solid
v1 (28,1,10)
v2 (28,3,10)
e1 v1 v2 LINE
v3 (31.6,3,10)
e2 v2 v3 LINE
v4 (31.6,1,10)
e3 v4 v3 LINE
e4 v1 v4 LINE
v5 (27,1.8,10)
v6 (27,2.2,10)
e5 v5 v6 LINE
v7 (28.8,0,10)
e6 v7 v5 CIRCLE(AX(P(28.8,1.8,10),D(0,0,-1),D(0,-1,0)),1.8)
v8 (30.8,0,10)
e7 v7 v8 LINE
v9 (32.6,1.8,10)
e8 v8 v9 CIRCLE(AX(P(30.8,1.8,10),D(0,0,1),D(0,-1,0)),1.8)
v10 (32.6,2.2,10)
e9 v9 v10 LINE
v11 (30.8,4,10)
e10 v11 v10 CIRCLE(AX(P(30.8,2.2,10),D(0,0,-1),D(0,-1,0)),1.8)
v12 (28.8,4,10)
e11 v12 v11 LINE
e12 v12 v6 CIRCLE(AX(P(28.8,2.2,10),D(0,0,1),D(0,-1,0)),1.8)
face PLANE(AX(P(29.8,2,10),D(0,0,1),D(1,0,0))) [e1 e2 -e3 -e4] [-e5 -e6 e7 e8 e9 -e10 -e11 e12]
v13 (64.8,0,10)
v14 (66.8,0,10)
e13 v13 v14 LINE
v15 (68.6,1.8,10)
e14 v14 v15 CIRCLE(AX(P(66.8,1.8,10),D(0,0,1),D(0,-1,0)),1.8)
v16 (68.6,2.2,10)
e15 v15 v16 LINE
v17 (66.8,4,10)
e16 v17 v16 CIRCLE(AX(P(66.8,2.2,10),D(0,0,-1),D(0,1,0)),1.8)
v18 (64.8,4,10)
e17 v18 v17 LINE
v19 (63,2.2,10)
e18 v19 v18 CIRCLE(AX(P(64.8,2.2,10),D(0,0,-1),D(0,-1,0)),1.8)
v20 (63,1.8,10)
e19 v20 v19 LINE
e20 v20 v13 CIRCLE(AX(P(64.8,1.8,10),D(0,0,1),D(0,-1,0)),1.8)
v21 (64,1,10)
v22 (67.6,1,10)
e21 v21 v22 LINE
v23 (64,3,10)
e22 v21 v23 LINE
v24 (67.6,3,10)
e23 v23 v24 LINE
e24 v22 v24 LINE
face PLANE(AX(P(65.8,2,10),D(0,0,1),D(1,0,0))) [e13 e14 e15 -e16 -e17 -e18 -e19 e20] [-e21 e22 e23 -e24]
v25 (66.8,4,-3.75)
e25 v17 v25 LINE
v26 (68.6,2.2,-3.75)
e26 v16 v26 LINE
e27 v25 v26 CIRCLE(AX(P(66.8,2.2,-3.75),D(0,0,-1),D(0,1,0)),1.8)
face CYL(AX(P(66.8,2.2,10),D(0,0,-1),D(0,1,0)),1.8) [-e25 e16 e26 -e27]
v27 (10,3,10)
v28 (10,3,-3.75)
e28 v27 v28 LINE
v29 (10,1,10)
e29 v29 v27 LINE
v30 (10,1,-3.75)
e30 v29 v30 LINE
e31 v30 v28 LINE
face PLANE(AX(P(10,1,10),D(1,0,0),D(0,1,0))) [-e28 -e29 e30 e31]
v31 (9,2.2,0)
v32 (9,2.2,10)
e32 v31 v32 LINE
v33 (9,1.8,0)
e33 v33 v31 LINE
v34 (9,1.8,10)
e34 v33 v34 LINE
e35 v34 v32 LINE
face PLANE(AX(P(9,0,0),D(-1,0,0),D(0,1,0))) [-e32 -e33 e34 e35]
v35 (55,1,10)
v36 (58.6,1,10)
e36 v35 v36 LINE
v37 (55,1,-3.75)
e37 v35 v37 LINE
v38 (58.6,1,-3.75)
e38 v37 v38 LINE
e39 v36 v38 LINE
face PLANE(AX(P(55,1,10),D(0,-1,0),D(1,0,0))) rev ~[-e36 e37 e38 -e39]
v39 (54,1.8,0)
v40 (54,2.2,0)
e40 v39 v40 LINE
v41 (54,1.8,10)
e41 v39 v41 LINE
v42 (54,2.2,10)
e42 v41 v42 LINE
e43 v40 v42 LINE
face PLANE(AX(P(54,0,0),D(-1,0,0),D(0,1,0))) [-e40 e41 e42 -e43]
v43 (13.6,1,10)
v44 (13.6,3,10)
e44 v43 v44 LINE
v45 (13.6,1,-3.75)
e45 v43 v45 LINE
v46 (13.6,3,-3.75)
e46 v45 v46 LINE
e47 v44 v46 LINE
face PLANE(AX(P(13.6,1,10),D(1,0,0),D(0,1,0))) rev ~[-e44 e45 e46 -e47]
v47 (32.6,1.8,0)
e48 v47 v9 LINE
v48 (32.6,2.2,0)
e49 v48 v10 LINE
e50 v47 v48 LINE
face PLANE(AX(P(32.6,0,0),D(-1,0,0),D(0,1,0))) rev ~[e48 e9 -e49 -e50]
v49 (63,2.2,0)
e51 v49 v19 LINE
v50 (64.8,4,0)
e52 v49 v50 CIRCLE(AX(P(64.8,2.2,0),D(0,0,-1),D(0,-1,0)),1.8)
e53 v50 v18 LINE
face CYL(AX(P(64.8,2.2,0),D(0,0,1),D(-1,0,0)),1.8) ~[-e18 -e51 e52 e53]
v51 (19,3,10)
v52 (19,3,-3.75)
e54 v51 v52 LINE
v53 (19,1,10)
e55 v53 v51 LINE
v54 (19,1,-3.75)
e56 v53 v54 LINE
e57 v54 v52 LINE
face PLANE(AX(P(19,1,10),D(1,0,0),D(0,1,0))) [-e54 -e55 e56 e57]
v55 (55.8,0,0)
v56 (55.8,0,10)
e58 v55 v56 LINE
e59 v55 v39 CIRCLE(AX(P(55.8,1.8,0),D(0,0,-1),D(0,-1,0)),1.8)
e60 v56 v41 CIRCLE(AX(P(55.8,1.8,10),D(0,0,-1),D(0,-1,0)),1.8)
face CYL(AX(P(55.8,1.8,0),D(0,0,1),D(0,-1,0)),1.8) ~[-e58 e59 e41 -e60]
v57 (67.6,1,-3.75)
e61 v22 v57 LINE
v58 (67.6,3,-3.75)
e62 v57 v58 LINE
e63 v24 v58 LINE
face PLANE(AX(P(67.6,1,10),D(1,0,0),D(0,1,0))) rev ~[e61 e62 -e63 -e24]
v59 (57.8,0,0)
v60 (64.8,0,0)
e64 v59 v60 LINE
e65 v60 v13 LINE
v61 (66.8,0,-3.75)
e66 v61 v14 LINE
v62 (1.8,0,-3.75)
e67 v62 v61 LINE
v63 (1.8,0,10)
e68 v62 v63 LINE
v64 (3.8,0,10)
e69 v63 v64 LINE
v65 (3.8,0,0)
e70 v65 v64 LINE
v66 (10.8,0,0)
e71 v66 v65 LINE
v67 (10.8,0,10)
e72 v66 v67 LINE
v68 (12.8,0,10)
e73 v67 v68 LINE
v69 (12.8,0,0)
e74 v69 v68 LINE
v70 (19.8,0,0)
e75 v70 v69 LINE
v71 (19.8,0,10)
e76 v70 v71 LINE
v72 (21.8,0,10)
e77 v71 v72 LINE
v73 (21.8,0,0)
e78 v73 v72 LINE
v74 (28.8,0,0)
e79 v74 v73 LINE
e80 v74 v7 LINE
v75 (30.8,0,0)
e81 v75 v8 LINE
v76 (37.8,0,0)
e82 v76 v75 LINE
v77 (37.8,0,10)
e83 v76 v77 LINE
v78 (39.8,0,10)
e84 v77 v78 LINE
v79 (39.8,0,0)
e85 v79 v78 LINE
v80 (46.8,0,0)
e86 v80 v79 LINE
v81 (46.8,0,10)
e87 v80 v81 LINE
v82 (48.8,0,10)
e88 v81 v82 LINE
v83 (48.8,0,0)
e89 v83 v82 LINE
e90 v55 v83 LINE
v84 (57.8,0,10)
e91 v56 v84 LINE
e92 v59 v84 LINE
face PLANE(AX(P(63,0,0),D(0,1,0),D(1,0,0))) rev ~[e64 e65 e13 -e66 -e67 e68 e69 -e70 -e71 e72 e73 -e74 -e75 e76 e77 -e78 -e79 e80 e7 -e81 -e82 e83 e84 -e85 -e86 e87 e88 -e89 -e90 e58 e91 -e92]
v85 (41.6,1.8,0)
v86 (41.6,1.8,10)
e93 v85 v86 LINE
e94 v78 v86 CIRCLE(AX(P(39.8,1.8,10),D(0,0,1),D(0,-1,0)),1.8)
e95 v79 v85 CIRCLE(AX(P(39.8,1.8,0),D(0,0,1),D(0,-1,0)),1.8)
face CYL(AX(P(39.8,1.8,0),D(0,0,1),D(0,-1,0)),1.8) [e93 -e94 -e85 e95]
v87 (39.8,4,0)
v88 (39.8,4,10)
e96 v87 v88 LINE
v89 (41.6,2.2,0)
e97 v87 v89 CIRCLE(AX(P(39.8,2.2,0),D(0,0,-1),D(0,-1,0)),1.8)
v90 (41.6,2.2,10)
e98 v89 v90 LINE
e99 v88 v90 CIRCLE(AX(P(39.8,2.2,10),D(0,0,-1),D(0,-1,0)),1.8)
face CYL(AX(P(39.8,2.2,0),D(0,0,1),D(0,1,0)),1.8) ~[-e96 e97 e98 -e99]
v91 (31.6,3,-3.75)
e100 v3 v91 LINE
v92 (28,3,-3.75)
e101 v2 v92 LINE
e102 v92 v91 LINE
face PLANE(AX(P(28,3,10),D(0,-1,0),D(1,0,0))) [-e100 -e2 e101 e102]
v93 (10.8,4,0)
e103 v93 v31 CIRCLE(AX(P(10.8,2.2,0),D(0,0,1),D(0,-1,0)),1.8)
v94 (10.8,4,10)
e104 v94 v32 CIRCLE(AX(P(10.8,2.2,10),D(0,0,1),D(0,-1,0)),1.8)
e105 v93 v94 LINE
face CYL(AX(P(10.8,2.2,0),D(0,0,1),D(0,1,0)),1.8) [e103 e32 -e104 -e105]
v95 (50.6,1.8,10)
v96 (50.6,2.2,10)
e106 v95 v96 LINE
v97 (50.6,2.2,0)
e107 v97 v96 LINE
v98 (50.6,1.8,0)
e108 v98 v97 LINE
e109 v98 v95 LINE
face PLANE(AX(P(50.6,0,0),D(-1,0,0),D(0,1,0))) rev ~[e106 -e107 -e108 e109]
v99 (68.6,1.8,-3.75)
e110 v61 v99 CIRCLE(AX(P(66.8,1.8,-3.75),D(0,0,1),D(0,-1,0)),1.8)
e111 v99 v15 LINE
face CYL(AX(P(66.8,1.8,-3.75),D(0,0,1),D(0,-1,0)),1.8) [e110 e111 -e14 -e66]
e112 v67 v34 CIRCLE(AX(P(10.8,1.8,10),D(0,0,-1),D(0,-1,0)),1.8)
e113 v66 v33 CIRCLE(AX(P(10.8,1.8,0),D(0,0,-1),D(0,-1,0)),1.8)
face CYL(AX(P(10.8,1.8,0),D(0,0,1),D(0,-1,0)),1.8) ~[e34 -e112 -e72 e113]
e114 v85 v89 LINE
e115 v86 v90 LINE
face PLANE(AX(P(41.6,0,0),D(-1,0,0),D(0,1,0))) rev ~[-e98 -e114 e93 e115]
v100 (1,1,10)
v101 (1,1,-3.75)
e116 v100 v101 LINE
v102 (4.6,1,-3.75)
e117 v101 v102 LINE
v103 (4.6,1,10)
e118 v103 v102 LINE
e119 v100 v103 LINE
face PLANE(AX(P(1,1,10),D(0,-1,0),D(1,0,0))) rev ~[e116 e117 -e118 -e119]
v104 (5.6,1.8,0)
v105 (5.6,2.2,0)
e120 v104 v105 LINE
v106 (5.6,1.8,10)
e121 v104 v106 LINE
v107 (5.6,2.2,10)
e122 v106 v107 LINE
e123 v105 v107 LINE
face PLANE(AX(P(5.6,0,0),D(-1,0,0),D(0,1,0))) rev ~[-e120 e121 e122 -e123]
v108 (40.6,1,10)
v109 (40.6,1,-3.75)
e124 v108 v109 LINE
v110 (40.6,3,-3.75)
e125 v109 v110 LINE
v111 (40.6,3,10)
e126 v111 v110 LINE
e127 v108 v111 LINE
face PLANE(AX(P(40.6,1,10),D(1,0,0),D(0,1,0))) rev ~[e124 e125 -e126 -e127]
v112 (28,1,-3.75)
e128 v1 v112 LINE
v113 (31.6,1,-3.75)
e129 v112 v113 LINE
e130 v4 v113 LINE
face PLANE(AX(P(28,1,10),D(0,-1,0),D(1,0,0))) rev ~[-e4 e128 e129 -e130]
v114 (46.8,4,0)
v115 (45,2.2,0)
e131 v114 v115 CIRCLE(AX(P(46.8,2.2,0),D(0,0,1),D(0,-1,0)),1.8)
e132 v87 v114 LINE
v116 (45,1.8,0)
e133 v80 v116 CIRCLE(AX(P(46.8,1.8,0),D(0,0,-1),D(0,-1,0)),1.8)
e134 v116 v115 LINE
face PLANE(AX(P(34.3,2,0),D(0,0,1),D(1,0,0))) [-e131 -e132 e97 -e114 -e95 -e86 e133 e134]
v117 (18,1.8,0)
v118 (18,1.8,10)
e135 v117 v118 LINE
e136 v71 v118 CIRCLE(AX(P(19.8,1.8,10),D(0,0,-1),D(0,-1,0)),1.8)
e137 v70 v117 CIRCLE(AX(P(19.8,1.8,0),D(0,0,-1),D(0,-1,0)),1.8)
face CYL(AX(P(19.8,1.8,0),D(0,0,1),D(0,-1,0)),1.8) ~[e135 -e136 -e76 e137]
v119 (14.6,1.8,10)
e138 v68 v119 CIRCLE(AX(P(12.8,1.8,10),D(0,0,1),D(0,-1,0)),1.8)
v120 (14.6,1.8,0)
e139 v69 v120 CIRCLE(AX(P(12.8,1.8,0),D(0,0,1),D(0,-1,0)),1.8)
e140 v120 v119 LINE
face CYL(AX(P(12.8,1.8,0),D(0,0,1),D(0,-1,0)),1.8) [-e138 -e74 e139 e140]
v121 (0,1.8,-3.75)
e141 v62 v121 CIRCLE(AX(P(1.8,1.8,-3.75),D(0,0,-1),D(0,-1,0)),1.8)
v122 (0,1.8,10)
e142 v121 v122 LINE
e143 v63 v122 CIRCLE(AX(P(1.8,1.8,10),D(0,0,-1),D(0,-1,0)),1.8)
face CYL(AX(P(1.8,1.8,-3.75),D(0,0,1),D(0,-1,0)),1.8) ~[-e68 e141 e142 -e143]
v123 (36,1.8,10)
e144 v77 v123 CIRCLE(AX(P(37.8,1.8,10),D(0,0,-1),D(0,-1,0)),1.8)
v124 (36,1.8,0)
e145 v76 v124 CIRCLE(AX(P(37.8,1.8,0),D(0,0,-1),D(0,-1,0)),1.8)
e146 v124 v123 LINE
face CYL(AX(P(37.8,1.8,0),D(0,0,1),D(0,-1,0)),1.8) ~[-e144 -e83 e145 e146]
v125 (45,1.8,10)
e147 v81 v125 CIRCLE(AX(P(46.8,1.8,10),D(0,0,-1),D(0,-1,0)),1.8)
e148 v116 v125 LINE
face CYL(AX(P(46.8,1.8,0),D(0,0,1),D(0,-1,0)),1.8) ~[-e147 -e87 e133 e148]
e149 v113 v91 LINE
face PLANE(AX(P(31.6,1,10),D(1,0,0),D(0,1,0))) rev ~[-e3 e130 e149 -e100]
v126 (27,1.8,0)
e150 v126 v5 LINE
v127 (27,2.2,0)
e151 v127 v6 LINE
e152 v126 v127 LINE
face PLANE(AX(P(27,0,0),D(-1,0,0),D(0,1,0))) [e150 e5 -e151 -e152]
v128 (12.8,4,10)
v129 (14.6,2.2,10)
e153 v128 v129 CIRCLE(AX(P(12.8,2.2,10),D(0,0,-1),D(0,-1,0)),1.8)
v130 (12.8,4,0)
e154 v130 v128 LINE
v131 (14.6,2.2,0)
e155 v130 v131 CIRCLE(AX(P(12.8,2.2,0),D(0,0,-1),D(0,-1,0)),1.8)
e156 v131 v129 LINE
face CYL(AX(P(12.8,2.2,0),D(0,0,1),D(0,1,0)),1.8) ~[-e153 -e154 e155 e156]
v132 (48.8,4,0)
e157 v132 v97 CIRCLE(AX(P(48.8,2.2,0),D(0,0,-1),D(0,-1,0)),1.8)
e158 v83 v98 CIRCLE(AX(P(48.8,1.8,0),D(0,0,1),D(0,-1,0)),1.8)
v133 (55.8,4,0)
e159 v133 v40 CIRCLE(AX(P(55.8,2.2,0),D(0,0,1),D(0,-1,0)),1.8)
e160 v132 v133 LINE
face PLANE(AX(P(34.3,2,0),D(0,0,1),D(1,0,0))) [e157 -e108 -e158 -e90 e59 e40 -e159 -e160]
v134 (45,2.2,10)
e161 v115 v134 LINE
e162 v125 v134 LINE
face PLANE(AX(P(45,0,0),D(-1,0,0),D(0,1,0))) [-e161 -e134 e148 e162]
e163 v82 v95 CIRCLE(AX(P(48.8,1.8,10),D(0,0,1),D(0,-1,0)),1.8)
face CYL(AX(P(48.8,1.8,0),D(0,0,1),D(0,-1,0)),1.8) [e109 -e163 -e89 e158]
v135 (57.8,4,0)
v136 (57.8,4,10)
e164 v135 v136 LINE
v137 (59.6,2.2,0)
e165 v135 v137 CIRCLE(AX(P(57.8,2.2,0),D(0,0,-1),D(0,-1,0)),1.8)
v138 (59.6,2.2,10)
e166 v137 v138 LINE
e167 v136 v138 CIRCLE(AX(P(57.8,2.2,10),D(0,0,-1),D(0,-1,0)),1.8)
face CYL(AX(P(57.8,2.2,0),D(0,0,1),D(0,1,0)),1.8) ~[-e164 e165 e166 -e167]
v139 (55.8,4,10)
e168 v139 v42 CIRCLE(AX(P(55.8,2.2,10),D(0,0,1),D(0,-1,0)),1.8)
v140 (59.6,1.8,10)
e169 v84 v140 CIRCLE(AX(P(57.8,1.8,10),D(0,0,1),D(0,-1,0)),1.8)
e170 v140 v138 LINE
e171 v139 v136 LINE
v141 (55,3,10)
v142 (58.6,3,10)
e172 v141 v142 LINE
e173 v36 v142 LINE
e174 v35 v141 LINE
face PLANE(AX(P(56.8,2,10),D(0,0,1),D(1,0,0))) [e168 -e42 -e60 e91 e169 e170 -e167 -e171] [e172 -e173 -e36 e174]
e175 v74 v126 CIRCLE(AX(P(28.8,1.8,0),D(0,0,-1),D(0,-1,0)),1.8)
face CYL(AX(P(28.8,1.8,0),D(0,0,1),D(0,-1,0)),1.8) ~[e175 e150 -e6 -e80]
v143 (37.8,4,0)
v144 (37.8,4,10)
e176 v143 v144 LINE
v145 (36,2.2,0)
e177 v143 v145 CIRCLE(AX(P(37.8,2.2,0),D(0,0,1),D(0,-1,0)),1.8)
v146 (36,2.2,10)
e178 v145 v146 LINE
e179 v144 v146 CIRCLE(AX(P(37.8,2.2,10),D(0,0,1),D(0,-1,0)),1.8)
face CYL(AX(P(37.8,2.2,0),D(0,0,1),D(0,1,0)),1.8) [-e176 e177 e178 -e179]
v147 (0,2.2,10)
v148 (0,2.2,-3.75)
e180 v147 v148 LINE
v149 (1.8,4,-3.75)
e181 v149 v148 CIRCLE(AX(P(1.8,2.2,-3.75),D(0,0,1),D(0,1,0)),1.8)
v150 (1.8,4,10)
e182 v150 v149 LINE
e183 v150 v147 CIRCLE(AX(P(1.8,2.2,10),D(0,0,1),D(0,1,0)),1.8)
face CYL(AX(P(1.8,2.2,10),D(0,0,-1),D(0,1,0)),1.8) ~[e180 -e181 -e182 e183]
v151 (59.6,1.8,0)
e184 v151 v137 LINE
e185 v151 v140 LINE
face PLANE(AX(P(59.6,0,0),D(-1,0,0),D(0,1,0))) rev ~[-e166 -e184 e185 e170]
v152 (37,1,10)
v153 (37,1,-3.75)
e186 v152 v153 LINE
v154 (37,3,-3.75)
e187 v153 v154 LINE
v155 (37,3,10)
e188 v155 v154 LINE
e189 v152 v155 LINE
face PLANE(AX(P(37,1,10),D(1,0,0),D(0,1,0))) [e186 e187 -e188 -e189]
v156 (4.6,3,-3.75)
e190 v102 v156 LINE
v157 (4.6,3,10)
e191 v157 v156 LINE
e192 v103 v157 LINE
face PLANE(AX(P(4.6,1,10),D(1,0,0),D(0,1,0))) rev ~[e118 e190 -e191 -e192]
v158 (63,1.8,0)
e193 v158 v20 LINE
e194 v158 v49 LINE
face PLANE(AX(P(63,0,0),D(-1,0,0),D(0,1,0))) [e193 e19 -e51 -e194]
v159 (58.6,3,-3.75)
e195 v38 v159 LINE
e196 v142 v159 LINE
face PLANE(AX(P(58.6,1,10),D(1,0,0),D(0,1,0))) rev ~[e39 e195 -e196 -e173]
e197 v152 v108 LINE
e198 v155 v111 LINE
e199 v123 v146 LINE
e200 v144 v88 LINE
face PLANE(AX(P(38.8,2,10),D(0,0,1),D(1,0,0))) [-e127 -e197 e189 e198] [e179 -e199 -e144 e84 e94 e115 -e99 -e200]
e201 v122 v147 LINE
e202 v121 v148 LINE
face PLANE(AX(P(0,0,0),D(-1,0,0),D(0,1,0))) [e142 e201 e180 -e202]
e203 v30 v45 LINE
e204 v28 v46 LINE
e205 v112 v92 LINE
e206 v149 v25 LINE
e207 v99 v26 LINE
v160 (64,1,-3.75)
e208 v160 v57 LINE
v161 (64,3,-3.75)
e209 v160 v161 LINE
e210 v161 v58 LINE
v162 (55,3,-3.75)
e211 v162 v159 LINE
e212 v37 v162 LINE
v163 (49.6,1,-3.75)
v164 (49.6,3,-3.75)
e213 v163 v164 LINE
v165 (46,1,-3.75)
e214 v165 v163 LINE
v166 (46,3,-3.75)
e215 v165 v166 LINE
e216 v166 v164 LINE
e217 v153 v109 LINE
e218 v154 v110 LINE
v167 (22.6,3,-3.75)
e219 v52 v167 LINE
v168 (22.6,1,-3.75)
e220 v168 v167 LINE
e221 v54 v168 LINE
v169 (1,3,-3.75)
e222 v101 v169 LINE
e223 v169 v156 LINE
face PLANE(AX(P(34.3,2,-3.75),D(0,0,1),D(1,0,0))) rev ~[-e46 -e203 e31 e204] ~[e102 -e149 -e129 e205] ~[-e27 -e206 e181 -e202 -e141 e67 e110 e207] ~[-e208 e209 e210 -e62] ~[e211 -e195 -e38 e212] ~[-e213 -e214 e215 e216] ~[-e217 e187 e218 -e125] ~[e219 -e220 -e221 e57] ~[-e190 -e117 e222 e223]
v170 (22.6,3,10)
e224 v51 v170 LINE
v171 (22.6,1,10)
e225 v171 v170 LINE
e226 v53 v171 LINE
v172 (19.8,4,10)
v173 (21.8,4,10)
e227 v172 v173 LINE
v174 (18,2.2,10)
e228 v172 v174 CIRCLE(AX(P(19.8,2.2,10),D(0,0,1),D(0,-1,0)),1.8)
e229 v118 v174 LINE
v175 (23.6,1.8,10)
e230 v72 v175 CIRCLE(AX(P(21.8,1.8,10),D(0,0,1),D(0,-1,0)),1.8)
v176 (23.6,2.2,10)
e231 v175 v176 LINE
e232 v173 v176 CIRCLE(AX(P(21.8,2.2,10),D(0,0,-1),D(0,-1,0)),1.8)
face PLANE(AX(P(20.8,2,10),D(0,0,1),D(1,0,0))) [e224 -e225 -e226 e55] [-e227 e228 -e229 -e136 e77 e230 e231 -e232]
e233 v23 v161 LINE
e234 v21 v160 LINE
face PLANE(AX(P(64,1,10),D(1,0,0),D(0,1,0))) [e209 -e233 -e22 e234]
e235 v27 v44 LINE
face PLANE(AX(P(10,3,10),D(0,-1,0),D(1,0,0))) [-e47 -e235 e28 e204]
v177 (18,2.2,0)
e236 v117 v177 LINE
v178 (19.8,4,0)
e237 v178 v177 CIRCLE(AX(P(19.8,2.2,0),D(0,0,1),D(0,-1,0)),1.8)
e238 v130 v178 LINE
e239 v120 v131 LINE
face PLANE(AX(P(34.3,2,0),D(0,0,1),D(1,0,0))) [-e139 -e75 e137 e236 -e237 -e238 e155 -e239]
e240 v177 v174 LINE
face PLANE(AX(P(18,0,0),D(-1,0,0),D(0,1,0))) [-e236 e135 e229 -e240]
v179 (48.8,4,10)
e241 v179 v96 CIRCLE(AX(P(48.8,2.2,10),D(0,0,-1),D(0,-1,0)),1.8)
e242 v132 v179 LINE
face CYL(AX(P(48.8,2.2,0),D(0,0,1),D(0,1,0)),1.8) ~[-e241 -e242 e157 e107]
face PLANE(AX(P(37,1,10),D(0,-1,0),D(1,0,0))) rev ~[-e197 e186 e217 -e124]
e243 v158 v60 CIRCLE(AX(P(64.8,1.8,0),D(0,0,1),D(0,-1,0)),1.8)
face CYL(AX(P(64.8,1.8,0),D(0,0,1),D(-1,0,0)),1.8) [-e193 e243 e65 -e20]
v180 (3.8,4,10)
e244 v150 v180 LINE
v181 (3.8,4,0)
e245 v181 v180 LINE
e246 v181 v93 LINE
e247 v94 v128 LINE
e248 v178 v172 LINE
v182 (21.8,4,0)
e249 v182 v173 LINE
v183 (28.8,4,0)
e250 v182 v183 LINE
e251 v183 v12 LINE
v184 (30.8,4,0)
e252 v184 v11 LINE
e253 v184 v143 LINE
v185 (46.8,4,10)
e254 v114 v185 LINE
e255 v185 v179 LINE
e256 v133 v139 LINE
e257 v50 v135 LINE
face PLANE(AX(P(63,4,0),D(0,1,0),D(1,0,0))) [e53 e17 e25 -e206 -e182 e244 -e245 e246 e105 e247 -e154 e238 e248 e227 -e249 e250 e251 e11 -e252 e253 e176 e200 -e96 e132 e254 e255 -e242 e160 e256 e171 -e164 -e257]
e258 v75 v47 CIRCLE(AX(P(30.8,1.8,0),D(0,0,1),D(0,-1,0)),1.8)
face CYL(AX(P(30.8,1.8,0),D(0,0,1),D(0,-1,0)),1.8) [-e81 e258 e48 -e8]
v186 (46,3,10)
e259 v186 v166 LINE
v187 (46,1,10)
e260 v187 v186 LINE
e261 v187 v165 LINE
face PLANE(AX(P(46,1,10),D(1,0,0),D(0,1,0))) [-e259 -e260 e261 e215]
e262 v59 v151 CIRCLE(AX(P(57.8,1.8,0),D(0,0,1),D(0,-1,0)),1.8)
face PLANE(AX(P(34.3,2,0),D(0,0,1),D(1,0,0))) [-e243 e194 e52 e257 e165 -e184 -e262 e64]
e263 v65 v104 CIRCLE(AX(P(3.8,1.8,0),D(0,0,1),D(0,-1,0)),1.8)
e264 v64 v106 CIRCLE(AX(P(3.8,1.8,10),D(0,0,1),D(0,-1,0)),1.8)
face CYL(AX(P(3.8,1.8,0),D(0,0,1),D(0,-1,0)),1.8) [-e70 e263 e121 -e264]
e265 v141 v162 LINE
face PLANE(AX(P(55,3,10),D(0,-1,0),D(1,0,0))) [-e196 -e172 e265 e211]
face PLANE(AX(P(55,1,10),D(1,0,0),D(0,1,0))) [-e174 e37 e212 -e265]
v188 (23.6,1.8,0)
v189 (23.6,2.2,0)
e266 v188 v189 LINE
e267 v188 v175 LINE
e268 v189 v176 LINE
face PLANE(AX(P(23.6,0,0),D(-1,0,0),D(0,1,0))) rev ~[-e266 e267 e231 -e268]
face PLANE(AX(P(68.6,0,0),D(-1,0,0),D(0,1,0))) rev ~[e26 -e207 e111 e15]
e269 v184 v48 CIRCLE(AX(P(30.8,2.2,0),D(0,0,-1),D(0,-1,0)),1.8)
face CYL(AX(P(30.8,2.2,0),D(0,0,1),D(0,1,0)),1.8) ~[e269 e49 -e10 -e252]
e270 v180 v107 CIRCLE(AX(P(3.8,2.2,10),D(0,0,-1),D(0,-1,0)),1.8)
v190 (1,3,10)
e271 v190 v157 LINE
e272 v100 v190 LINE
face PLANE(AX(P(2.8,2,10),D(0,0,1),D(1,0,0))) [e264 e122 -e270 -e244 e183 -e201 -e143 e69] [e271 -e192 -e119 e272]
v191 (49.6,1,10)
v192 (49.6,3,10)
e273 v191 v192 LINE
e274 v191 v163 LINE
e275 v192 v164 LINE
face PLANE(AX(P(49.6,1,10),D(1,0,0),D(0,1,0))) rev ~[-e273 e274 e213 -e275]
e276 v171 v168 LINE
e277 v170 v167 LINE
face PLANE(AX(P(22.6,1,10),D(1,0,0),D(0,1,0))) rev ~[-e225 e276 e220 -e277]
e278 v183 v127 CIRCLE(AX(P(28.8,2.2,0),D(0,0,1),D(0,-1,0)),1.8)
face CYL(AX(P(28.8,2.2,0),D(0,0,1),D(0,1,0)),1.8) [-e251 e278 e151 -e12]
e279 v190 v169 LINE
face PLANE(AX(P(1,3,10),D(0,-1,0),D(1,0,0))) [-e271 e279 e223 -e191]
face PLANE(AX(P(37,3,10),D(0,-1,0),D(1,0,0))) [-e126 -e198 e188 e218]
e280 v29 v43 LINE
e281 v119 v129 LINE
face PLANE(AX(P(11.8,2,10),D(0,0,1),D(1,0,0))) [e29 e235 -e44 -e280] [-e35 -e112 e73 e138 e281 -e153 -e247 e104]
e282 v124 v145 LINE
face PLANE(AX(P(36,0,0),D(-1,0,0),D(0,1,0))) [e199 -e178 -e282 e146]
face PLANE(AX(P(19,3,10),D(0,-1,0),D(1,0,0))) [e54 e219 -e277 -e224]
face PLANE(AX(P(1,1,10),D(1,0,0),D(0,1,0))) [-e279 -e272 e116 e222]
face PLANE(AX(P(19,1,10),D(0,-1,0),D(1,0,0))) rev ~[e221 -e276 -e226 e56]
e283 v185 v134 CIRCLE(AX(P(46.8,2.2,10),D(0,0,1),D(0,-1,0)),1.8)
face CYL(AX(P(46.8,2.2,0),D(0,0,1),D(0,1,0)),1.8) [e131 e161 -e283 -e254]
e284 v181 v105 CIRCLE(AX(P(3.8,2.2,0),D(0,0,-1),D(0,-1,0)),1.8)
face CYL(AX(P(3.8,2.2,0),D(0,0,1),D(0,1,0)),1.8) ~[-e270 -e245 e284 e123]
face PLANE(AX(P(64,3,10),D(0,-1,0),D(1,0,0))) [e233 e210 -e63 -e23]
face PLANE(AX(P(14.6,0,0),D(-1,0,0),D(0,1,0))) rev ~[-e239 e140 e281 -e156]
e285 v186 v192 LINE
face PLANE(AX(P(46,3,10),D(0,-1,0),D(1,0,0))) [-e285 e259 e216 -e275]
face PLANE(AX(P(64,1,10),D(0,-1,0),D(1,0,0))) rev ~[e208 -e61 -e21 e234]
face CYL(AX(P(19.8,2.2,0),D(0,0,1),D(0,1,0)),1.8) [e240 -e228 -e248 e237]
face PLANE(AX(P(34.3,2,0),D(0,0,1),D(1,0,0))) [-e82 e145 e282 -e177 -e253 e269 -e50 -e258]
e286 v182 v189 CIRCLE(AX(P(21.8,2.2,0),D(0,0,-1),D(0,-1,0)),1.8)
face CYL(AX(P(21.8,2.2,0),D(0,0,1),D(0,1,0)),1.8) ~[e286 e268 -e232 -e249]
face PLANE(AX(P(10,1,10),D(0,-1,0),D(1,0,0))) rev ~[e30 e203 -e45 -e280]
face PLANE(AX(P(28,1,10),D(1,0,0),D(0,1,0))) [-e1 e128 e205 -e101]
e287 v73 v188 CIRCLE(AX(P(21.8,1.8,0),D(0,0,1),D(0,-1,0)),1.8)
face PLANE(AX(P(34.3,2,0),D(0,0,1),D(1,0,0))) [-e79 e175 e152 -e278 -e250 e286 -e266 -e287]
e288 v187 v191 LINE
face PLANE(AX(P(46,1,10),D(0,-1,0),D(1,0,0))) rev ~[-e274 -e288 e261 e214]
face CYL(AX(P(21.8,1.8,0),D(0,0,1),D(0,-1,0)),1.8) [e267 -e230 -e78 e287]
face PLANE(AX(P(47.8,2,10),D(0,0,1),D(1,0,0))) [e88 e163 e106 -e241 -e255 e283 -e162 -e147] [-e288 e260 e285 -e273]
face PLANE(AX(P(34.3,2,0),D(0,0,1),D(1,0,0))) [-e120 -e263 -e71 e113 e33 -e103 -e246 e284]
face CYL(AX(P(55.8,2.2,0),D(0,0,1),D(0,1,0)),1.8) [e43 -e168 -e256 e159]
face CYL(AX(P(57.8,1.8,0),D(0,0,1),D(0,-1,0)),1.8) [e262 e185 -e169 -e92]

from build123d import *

# Parameters (mm, degrees)
SKETCH008_W     = 68.6
SKETCH008_H     = 4
PAD_DEPTH       = 3.75
SKETCH_W        = 5.6
SKETCH_H        = 4
PAD001_DEPTH    = 10
SKETCH001_W     = 5.6
SKETCH001_H     = 4
PAD002_DEPTH    = 10
SKETCH002_W     = 5.6
SKETCH002_H     = 4
PAD003_DEPTH    = 10
SKETCH003_W     = 5.6
SKETCH003_H     = 4
PAD004_DEPTH    = 10
SKETCH004_W     = 5.6
SKETCH004_H     = 4
PAD005_DEPTH    = 10
SKETCH005_W     = 5.6
SKETCH005_H     = 4
PAD006_DEPTH    = 10
SKETCH006_W     = 5.6
SKETCH006_H     = 4
PAD007_DEPTH    = 10
SKETCH007_W     = 5.6
SKETCH007_H     = 4
PAD008_DEPTH    = 10
SKETCH009_W     = 3.6
SKETCH009_H     = 2
POCKET_DEPTH    = 13.75
SKETCH010_W     = 3.6
SKETCH010_H     = 2
POCKET001_DEPTH = 13.75
SKETCH011_W     = 3.6
SKETCH011_H     = 2
POCKET002_DEPTH = 13.75
SKETCH012_W     = 3.6
SKETCH012_H     = 2
POCKET003_DEPTH = 13.75
SKETCH013_W     = 3.6
SKETCH013_H     = 2
POCKET004_DEPTH = 13.75
SKETCH014_W     = 3.6
SKETCH014_H     = 2
POCKET005_DEPTH = 13.75
SKETCH015_W     = 3.6
SKETCH015_H     = 2
POCKET006_DEPTH = 13.75
SKETCH016_W     = 3.6
SKETCH016_H     = 2
POCKET007_DEPTH = 13.75
FILLET_R        = 1.8


with BuildPart() as part:
    # Sketch008 → Pad (new body)
    with BuildSketch(Plane.XY):
        with Locations((34.3, 2)):
            Rectangle(SKETCH008_W, SKETCH008_H)
    extrude(amount=-PAD_DEPTH)

    # Sketch → Pad001 (join)
    with BuildSketch(Plane.XY):
        with Locations((2.8, 2)):
            Rectangle(SKETCH_W, SKETCH_H)
    extrude(amount=PAD001_DEPTH)

    # Sketch001 → Pad002 (join)
    with BuildSketch(Plane.XY):
        with Locations((11.8, 2)):
            Rectangle(SKETCH001_W, SKETCH001_H)
    extrude(amount=PAD002_DEPTH)

    # Sketch002 → Pad003 (join)
    with BuildSketch(Plane.XY):
        with Locations((20.8, 2)):
            Rectangle(SKETCH002_W, SKETCH002_H)
    extrude(amount=PAD003_DEPTH)

    # Sketch003 → Pad004 (join)
    with BuildSketch(Plane.XY):
        with Locations((29.8, 2)):
            Rectangle(SKETCH003_W, SKETCH003_H)
    extrude(amount=PAD004_DEPTH)

    # Sketch004 → Pad005 (join)
    with BuildSketch(Plane.XY):
        with Locations((38.8, 2)):
            Rectangle(SKETCH004_W, SKETCH004_H)
    extrude(amount=PAD005_DEPTH)

    # Sketch005 → Pad006 (join)
    with BuildSketch(Plane.XY):
        with Locations((47.8, 2)):
            Rectangle(SKETCH005_W, SKETCH005_H)
    extrude(amount=PAD006_DEPTH)

    # Sketch006 → Pad007 (join)
    with BuildSketch(Plane.XY):
        with Locations((56.8, 2)):
            Rectangle(SKETCH006_W, SKETCH006_H)
    extrude(amount=PAD007_DEPTH)

    # Sketch007 → Pad008 (join)
    with BuildSketch(Plane.XY):
        with Locations((65.8, 2)):
            Rectangle(SKETCH007_W, SKETCH007_H)
    extrude(amount=PAD008_DEPTH)

    # Sketch009 (on Face24 of Pad008) → Pocket (cut)
    with BuildSketch(Plane.XY.offset(10)):
        with Locations((2.8, 2)):
            Rectangle(SKETCH009_W, SKETCH009_H)
    extrude(amount=-POCKET_DEPTH, mode=Mode.SUBTRACT)

    # Sketch010 (on Face27 of Pad008) → Pocket001 (cut)
    with BuildSketch(Plane.XY.offset(10)):
        with Locations((11.8, 2)):
            Rectangle(SKETCH010_W, SKETCH010_H)
    extrude(amount=-POCKET001_DEPTH, mode=Mode.SUBTRACT)

    # Sketch011 (on Face30 of Pad008) → Pocket002 (cut)
    with BuildSketch(Plane.XY.offset(10)):
        with Locations((20.8, 2)):
            Rectangle(SKETCH011_W, SKETCH011_H)
    extrude(amount=-POCKET002_DEPTH, mode=Mode.SUBTRACT)

    # Sketch012 (on Face33 of Pad008) → Pocket003 (cut)
    with BuildSketch(Plane.XY.offset(10)):
        with Locations((29.8, 2)):
            Rectangle(SKETCH012_W, SKETCH012_H)
    extrude(amount=-POCKET003_DEPTH, mode=Mode.SUBTRACT)

    # Sketch013 (on Face36 of Pad008) → Pocket004 (cut)
    with BuildSketch(Plane.XY.offset(10)):
        with Locations((38.8, 2)):
            Rectangle(SKETCH013_W, SKETCH013_H)
    extrude(amount=-POCKET004_DEPTH, mode=Mode.SUBTRACT)

    # Sketch014 (on Face39 of Pad008) → Pocket005 (cut)
    with BuildSketch(Plane.XY.offset(10)):
        with Locations((47.8, 2)):
            Rectangle(SKETCH014_W, SKETCH014_H)
    extrude(amount=-POCKET005_DEPTH, mode=Mode.SUBTRACT)

    # Sketch015 (on Face42 of Pad008) → Pocket006 (cut)
    with BuildSketch(Plane.XY.offset(10)):
        with Locations((56.8, 2)):
            Rectangle(SKETCH015_W, SKETCH015_H)
    extrude(amount=-POCKET006_DEPTH, mode=Mode.SUBTRACT)

    # Sketch016 (on Face44 of Pad008) → Pocket007 (cut)
    with BuildSketch(Plane.XY.offset(10)):
        with Locations((65.8, 2)):
            Rectangle(SKETCH016_W, SKETCH016_H)
    extrude(amount=-POCKET007_DEPTH, mode=Mode.SUBTRACT)

    # Fillet
    fillet_edges = [part.edges().sort_by_distance(p)[0] for p in [
        (0, 4, 5),
        (0, 0, 5),
        (5.6, 4, 5),
        (5.6, 0, 5),
        (9, 0, 5),
        (9, 4, 5),
        (14.6, 4, 5),
        (14.6, 0, 5),
        (18, 4, 5),
        (18, 0, 5),
        (23.6, 4, 5),
        (23.6, 0, 5),
        (27, 4, 5),
        (27, 0, 5),
        (32.6, 4, 5),
        (32.6, 0, 5),
        (36, 4, 5),
        (41.6, 4, 5),
        (36, 0, 5),
        (41.6, 0, 5),
        (45, 4, 5),
        (45, 0, 5),
        (50.6, 0, 5),
        (50.6, 4, 5),
        (54, 4, 5),
        (59.6, 4, 5),
        (59.6, 0, 5),
        (54, 0, 5),
        (63, 4, 5),
        (63, 0, 5),
        (68.6, 0, 5),
        (68.6, 4, 5),
    ]]
    fillet(fillet_edges, radius=FILLET_R)


solid = part.part
